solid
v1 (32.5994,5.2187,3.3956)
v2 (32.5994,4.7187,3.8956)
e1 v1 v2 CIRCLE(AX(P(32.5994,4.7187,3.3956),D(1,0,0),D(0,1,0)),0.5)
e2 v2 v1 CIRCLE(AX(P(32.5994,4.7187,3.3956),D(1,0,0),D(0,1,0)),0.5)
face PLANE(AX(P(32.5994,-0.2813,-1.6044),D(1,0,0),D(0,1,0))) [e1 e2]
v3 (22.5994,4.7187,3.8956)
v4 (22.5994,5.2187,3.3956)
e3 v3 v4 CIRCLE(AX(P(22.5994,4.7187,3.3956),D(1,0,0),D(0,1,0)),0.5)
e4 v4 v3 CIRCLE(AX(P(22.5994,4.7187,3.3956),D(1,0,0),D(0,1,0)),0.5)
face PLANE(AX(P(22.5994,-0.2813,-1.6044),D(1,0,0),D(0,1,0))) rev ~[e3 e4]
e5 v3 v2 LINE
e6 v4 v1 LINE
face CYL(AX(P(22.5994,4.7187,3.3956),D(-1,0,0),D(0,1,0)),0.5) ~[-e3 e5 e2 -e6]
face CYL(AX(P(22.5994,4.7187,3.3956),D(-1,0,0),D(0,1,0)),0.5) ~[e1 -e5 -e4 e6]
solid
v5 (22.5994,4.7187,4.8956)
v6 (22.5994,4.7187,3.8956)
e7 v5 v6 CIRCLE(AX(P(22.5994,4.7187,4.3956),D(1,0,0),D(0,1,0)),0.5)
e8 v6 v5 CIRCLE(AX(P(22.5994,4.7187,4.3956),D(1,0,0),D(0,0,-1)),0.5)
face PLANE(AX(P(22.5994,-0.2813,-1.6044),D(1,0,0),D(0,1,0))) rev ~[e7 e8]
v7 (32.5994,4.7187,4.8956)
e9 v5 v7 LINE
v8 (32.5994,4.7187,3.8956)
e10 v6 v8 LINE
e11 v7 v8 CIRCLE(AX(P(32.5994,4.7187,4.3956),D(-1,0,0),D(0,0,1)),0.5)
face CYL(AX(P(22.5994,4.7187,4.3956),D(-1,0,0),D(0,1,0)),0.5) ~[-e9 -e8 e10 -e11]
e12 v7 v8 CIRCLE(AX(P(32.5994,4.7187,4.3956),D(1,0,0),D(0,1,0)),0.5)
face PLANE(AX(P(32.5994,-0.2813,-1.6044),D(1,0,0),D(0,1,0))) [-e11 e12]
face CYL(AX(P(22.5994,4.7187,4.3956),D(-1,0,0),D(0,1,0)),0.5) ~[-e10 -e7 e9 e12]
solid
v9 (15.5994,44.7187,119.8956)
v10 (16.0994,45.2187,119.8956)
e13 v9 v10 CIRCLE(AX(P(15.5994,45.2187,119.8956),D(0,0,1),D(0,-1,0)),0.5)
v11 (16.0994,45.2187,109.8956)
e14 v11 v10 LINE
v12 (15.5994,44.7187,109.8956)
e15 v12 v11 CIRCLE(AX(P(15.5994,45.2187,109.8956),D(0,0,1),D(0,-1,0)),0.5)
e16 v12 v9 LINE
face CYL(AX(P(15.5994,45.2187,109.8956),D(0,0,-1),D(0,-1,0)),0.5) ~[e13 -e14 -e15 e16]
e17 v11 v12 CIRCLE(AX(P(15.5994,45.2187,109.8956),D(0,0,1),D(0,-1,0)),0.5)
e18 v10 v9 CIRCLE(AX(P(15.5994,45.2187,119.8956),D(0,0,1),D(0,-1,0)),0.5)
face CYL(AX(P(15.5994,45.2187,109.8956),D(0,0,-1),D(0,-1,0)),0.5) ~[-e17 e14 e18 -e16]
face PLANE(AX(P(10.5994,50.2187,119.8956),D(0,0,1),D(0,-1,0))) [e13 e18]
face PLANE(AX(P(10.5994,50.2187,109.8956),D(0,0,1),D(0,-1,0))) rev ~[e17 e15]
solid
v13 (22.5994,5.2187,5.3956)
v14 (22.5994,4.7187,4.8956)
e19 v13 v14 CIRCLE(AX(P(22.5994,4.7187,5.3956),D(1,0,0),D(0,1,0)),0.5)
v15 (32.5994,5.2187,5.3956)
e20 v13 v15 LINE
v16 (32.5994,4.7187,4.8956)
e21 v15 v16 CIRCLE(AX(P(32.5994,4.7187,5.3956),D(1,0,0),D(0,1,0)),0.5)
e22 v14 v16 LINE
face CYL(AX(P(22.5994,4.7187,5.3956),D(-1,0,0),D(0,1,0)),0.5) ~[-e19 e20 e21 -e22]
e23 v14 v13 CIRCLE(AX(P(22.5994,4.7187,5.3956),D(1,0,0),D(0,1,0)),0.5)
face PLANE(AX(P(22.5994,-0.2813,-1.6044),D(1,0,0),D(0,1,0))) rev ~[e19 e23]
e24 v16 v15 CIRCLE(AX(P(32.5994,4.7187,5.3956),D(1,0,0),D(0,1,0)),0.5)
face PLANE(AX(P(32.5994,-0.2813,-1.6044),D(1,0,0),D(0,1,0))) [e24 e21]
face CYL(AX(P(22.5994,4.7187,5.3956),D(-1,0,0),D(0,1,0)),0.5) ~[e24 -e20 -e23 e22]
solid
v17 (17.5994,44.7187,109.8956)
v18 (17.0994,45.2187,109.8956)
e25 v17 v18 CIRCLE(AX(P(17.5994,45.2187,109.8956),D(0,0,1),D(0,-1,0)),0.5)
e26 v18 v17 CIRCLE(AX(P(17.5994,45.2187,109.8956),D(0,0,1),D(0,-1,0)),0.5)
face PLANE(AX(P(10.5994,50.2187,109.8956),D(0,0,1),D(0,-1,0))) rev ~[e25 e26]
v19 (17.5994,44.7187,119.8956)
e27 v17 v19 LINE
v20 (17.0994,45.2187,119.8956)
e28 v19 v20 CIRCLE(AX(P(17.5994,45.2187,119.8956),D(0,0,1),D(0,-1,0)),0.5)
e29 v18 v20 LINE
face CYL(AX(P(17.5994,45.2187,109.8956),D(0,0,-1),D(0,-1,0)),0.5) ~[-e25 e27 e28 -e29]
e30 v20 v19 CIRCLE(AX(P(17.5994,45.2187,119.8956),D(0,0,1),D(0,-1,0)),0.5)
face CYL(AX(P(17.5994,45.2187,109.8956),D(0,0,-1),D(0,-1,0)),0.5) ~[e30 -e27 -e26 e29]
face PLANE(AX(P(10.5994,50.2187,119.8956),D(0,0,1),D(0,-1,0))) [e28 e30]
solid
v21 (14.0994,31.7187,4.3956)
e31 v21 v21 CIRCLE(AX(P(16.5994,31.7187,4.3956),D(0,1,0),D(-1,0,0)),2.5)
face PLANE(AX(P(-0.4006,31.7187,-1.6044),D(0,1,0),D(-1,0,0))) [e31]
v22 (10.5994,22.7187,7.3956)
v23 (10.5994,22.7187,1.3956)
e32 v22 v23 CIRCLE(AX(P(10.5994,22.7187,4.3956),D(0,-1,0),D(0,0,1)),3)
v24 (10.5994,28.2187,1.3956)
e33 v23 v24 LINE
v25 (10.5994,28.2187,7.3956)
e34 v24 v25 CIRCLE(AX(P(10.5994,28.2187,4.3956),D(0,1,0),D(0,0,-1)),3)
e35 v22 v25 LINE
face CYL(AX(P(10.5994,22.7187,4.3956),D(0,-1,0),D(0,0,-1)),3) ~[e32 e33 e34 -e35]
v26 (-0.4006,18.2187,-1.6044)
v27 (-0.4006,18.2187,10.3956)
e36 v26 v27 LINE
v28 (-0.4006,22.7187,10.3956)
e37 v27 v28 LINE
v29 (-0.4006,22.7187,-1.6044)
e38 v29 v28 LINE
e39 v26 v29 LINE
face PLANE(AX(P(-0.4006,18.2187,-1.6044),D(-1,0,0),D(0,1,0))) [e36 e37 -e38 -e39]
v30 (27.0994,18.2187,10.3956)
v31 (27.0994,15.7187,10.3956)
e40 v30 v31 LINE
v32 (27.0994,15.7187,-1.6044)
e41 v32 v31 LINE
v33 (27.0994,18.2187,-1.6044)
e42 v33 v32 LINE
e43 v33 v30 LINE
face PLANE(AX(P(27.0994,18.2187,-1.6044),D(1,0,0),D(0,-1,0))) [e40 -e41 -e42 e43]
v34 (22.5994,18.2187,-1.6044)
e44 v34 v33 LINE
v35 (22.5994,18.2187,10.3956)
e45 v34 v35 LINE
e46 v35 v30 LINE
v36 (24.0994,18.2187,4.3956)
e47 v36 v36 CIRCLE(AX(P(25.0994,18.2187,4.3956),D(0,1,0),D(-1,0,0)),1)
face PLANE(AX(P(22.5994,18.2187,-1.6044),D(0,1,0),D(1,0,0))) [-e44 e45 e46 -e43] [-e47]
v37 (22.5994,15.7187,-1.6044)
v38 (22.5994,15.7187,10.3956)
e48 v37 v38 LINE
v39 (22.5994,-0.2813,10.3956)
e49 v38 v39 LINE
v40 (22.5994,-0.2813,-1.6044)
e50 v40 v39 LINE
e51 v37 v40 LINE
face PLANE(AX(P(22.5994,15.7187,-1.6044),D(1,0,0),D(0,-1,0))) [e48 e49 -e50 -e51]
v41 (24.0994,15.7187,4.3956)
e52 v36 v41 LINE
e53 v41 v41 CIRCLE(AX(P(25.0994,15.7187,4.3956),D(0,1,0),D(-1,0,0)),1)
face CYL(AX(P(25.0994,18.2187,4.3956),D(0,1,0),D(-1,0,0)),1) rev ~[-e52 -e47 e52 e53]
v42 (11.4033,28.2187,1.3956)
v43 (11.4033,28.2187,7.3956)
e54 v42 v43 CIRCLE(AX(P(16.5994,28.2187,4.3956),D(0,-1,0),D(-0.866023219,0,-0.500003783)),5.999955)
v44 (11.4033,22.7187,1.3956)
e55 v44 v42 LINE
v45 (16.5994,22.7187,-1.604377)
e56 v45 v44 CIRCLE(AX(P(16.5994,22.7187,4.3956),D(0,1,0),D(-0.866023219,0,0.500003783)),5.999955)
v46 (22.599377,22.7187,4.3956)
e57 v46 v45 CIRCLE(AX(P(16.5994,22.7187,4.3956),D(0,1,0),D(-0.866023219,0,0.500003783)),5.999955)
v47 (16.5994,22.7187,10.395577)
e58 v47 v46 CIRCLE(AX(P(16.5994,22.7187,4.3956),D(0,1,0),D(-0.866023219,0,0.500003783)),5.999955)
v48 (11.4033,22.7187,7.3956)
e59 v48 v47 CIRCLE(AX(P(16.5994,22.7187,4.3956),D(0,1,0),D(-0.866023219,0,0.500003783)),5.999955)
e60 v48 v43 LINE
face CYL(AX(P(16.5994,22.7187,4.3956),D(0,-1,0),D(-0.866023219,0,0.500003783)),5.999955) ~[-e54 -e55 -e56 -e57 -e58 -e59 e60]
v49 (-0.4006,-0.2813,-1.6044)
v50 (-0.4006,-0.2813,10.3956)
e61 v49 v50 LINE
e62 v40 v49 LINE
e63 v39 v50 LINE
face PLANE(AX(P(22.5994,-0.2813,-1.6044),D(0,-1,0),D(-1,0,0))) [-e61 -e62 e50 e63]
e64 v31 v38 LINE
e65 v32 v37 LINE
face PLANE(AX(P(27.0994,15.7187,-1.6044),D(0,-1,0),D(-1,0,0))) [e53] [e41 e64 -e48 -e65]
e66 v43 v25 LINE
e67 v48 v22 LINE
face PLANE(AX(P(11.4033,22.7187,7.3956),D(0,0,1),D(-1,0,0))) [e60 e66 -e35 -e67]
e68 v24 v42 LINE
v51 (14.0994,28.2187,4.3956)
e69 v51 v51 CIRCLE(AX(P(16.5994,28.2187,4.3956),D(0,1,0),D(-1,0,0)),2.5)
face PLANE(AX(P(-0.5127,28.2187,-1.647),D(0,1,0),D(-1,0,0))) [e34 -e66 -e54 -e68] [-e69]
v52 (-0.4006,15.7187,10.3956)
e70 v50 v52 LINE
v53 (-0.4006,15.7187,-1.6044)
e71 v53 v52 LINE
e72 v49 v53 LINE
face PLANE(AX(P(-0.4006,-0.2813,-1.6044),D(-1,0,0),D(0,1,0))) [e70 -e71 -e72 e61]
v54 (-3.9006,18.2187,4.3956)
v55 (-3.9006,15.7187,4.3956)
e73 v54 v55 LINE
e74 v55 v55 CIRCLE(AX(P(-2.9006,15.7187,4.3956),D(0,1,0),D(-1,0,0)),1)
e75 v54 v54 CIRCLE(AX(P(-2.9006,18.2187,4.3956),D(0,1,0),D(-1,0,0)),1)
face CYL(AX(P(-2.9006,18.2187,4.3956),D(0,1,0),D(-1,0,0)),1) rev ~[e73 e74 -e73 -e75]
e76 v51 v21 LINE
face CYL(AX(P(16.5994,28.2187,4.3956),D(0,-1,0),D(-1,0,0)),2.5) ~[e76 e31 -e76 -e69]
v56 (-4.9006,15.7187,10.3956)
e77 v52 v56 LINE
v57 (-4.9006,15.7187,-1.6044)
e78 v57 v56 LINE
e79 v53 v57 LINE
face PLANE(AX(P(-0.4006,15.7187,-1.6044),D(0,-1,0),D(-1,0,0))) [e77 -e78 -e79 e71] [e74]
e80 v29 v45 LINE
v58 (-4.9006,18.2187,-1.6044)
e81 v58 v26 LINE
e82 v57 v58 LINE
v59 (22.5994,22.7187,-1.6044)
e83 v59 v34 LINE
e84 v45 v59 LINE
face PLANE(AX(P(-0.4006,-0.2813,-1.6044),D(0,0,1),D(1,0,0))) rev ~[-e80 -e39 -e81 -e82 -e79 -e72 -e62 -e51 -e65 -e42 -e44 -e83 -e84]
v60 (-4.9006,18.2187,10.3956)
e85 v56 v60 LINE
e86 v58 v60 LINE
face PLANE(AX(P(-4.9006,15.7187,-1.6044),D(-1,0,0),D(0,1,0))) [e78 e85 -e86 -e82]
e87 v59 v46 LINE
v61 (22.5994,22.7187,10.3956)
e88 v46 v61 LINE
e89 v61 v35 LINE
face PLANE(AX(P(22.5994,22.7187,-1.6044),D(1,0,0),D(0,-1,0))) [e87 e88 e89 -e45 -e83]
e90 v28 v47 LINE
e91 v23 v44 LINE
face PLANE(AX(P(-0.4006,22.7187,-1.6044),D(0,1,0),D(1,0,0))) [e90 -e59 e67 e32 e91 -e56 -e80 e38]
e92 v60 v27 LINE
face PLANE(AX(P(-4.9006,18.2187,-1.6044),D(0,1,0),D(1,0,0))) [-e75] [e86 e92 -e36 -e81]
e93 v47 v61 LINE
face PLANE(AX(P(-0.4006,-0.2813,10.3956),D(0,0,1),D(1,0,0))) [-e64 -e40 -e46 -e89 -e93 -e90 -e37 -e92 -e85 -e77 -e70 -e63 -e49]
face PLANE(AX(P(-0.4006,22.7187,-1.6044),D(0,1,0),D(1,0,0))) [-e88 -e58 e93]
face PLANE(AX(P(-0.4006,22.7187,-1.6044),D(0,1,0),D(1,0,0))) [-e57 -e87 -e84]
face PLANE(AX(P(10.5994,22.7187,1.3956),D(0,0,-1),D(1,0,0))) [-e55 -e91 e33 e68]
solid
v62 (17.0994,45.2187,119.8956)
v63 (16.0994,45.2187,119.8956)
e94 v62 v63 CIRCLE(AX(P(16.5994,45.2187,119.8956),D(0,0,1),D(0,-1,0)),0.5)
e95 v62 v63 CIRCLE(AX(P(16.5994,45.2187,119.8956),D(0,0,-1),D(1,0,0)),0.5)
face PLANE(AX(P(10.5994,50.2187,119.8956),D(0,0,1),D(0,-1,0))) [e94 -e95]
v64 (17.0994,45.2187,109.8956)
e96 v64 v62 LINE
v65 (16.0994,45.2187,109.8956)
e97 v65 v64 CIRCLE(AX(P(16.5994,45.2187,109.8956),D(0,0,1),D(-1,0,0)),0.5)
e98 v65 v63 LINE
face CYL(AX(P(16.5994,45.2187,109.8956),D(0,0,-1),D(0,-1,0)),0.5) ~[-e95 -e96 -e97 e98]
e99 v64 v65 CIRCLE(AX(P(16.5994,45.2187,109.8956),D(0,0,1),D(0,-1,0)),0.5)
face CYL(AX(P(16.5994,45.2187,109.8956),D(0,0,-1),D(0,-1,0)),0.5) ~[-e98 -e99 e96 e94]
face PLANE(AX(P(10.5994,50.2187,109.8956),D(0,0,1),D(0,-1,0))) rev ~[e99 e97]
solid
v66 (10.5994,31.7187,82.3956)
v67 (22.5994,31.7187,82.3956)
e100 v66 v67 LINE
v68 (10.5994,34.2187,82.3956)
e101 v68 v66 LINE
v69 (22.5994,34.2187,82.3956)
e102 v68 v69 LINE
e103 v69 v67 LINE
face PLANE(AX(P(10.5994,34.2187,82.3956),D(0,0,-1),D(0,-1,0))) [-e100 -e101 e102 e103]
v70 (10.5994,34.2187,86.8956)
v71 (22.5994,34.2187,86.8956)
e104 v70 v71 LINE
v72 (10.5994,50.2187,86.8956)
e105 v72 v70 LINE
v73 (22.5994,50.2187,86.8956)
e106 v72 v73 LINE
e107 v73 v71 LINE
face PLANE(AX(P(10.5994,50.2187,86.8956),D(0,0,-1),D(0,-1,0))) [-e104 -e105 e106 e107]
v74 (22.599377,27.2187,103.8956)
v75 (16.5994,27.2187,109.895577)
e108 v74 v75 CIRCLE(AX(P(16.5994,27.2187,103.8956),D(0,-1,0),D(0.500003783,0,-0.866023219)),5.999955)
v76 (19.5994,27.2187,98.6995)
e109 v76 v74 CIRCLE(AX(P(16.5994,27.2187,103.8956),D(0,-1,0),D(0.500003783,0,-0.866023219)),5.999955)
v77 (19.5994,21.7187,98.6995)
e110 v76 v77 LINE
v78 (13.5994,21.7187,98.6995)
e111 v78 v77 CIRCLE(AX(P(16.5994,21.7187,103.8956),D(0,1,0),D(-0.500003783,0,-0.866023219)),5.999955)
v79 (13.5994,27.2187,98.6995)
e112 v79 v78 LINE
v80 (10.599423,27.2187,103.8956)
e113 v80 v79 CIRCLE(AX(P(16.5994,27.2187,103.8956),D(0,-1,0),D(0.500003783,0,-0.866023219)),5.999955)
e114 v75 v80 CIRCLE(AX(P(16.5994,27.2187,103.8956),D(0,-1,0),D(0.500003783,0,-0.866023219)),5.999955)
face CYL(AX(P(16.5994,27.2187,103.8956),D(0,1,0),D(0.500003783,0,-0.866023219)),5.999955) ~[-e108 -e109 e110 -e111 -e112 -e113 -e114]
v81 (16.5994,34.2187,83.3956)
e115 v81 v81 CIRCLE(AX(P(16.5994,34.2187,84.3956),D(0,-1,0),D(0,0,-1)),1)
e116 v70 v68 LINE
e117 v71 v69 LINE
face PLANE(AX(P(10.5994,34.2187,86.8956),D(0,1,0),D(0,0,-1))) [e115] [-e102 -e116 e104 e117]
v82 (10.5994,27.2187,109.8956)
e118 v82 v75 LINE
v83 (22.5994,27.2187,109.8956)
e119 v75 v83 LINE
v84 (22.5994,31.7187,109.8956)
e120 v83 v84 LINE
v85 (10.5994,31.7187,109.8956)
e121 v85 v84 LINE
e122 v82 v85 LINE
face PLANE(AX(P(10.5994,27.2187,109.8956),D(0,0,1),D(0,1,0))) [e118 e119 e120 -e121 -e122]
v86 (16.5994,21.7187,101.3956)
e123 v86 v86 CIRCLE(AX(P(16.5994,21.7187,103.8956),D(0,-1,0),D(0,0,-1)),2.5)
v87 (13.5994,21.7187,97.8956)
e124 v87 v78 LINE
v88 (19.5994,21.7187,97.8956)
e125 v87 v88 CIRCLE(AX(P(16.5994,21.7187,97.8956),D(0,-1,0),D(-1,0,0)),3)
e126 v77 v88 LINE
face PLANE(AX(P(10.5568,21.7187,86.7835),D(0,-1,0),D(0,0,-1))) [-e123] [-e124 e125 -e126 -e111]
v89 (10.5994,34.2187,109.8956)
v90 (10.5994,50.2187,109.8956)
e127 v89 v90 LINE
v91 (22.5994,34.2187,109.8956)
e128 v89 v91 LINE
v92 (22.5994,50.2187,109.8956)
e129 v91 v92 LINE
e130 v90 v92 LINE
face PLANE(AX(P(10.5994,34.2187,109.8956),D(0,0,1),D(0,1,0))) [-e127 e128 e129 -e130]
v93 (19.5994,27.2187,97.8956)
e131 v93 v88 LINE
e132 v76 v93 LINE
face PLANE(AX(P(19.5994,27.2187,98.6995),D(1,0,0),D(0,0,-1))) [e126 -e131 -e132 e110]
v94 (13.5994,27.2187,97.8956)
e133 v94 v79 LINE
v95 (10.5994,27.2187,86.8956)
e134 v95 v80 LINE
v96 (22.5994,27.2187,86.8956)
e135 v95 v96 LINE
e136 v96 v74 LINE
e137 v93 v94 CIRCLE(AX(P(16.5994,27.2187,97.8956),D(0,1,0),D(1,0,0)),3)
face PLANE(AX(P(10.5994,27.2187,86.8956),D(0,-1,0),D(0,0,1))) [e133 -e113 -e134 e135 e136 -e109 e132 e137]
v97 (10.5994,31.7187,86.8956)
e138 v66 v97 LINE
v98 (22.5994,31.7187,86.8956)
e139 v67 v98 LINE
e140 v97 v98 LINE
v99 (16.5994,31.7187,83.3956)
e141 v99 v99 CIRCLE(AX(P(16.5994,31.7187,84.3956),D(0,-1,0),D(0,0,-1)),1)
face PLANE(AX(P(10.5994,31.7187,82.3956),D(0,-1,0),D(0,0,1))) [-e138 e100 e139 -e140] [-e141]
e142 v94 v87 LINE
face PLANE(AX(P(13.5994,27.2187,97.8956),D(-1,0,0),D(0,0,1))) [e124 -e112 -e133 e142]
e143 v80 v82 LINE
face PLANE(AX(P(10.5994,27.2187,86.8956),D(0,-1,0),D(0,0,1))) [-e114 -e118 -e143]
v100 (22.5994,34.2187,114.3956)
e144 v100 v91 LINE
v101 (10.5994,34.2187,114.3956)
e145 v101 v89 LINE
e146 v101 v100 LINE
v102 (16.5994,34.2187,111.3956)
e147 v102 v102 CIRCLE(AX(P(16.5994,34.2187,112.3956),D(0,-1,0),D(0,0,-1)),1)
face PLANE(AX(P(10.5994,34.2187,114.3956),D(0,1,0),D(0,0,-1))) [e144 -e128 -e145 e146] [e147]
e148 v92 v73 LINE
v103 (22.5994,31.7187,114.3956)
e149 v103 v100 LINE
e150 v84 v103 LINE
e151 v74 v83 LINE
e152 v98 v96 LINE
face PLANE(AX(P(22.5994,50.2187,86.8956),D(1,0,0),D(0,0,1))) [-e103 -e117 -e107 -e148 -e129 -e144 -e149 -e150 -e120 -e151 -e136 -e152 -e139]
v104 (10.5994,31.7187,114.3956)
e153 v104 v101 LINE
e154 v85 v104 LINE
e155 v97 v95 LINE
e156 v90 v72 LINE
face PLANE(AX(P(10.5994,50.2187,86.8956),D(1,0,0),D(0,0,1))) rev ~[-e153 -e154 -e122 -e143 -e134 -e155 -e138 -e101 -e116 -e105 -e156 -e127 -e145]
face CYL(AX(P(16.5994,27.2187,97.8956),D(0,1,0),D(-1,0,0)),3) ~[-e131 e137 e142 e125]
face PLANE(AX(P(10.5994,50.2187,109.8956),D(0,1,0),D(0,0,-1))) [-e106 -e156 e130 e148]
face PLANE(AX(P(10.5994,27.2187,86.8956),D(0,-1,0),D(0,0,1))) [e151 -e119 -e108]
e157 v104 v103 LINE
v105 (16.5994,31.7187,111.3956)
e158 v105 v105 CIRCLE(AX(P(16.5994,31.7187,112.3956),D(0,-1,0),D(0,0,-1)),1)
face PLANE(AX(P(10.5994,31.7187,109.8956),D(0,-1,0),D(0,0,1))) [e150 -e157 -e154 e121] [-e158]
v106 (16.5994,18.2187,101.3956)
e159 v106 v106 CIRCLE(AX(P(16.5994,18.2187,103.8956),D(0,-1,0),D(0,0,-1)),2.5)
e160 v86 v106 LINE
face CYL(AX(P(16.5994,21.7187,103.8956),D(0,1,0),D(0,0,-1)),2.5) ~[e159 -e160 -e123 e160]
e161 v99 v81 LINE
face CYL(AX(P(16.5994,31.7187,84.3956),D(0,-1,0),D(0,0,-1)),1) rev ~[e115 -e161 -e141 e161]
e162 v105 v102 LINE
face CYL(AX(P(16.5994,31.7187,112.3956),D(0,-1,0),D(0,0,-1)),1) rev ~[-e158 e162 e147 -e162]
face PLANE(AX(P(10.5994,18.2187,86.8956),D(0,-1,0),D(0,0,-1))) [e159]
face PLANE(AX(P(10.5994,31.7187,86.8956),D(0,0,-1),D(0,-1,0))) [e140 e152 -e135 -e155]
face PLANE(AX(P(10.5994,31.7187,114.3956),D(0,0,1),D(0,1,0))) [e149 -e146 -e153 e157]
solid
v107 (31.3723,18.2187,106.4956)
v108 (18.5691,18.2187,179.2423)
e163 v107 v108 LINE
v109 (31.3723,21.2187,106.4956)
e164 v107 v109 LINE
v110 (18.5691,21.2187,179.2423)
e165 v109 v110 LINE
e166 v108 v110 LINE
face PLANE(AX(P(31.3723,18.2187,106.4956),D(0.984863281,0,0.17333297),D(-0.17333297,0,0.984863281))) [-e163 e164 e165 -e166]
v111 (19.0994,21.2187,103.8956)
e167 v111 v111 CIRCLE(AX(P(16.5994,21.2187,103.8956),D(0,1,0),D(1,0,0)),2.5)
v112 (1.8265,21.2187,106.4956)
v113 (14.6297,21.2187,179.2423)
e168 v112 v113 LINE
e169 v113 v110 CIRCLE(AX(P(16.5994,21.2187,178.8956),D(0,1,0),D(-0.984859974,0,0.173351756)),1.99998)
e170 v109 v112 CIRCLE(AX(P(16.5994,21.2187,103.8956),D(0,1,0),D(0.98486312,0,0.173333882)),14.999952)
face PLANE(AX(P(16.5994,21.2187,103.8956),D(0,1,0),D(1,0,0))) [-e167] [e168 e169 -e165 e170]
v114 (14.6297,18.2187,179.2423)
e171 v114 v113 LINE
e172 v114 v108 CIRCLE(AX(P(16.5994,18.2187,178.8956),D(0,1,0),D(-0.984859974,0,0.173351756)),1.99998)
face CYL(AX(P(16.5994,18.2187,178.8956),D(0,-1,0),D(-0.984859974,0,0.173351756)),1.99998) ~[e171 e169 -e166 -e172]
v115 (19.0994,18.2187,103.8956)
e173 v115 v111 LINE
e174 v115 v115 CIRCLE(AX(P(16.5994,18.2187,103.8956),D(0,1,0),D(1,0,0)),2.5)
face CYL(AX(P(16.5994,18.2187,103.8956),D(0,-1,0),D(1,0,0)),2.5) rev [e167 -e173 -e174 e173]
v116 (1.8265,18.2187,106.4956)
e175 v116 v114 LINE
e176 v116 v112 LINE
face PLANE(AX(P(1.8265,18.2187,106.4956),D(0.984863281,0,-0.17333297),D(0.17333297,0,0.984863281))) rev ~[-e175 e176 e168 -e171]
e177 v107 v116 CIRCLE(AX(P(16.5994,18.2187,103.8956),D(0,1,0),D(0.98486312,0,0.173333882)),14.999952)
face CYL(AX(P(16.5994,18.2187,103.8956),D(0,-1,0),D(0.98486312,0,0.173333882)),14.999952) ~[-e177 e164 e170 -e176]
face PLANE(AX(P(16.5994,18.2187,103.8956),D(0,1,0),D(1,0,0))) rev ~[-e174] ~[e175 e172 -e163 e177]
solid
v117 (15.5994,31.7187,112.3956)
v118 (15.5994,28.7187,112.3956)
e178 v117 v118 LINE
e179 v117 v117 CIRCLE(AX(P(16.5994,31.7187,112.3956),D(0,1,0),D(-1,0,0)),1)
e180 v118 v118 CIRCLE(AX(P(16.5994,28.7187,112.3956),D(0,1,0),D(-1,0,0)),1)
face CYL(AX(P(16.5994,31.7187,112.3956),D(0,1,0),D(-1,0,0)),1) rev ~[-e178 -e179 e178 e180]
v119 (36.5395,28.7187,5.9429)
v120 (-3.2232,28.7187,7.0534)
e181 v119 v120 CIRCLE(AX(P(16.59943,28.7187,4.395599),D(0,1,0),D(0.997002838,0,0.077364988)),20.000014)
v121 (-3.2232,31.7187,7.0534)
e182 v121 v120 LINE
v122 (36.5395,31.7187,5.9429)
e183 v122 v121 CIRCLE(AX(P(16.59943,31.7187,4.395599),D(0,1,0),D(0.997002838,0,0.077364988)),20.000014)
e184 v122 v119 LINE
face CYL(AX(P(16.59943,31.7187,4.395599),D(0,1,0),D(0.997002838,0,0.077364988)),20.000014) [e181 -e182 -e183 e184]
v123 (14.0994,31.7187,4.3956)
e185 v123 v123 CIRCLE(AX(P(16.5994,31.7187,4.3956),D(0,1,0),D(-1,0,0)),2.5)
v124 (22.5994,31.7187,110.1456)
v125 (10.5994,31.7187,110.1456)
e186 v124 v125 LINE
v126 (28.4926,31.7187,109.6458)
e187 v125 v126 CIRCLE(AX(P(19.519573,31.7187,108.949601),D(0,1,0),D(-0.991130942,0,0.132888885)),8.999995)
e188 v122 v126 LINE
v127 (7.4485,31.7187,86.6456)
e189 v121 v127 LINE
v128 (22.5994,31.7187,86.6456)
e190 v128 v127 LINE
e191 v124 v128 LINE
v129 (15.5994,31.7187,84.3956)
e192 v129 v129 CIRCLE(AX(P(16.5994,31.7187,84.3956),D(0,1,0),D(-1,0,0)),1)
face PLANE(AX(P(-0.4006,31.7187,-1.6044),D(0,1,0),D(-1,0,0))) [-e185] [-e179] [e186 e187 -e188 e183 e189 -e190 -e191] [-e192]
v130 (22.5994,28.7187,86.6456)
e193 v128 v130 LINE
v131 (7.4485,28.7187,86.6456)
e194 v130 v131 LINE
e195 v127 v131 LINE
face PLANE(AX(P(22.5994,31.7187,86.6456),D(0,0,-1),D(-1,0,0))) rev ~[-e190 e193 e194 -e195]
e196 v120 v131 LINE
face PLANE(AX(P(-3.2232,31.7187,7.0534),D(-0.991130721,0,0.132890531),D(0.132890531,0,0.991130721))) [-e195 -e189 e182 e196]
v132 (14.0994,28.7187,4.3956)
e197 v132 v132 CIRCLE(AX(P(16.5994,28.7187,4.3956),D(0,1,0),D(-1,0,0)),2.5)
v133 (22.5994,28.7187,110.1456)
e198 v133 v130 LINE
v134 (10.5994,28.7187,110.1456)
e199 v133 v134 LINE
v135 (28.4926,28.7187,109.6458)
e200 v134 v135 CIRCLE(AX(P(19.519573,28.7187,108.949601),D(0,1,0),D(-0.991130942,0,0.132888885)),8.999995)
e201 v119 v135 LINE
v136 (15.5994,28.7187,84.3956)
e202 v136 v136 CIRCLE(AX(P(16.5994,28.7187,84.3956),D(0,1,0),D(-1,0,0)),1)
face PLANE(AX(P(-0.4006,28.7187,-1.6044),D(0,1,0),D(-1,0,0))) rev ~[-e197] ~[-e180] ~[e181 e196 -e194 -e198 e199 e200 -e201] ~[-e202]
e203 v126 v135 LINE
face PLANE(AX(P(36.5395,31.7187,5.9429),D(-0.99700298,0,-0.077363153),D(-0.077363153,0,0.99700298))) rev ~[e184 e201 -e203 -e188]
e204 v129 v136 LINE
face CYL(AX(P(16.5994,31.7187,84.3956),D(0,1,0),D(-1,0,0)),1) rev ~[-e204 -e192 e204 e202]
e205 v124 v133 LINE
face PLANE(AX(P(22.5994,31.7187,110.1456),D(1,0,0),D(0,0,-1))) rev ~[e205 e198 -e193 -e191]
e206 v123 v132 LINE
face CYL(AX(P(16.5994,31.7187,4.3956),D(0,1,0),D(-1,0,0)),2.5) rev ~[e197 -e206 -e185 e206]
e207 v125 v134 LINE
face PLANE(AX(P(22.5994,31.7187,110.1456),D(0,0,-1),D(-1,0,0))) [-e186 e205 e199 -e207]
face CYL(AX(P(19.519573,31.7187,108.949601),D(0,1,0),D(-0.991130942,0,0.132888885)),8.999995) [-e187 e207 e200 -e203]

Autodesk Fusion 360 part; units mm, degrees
sketch "Sketch1" plane through (0, 0, 0) normal (0, 0, 1) x (1, 0, 0) in component "Servo"
  line L0 (0, 0) -> (0, 16)
  line L1 (0, 16) -> (-4.5, 16)
  line L2 (-4.5, 16) -> (-4.5, 18.5)
  line L3 (-4.5, 18.5) -> (0, 18.5)
  line L4 (0, 18.5) -> (0, 23)
  line L5 (0, 23) -> (23, 23)
  line L6 (23, 23) -> (23, 18.5)
  line L7 (23, 18.5) -> (27.5, 18.5)
  line L8 (27.5, 18.5) -> (27.5, 16)
  line L9 (27.5, 16) -> (23, 16)
  line L10 (23, 16) -> (23, 0)
  line L11 (23, 0) -> (0, 0)
  dimension "d1" = 23
  dimension "d2" = 23
  dimension "d3" = 32
  dimension "d4" = 2.5
  dimension "d5" = 16
extrude "Extrude1" add sketch "Sketch1" along normal blind 12 makes body 1 in component "Servo"
sketch "Sketch2" plane through (-0.1121, 23, -0.0426) normal (0, 1, 0) x (-1, 0, 0) in component "Servo"
  line L0 (-23.1121, 0.0426) -> (-0.1121, 0.0426)
  line L1 (-0.1121, 0.0426) -> (-0.1121, 12.0426)
  line L2 (-0.1121, 12.0426) -> (-23.1121, 12.0426)
  line L3 (-23.1121, 12.0426) -> (-23.1121, 0.0426)
  line L4 (-23.1121, 6.0426) -> (-0.1121, 6.0426)
  arc A0 (-11.916, 9.0426) -> (-11.916, 3.0426) centre (-17.1121, 6.0426) ccw
  arc A1 (-11.916, 3.0426) -> (-11.916, 9.0426) centre (-17.1121, 6.0426) ccw construction
  arc A2 (-11.1121, 3.0426) -> (-11.1121, 9.0426) centre (-11.1121, 6.0426) ccw
  line L5 (-11.916, 9.0426) -> (-11.1121, 9.0426)
  line L6 (-11.1121, 3.0426) -> (-11.916, 3.0426)
  dimension "d8" = 6
  dimension "d9" = 3
extrude "Extrude2" add sketch "Sketch2" along normal blind 5.5 contours L4 A0 A2 L6 | L4 A0 A2 L5 bodies 1 in component "Servo"
sketch "Sketch3" plane through (0, 28.5, 0) normal (0, 1, 0) x (-1, 0, 0) in component "Servo"
  arc A0 (-11.8038, 9) -> (-11.8038, 3) centre (-17, 6) ccw
  line L0 (-11.8038, 3) -> (-11, 3)
  arc A1 (-11, 3) -> (-11, 9) centre (-11, 6) ccw
  line L1 (-11, 9) -> (-11.8038, 9)
  circle A2 centre (-17, 6) radius 2.5
  dimension "d12" = 5
extrude "Extrude3" add sketch "Sketch3" along normal blind 3.5 contours A2 bodies 1 in component "Servo"
sketch "Sketch4" plane through (23, 0, 0) normal (1, 0, 0) x (0, 1, 0) in component "Servo"
  line L0 (0, 0) -> (16, 0)
  line L1 (16, 0) -> (16, 12)
  line L2 (16, 12) -> (0, 12)
  line L3 (0, 12) -> (0, 0)
  line L4 (5, 12) -> (5, 0) construction
  circle A0 centre (5, 6) radius 0.5
  circle A1 centre (5, 7) radius 0.5
  circle A2 centre (5, 5) radius 0.5
  dimension "d15" = 5
  dimension "d16" = 1
extrude "Extrude4" add sketch "Sketch4" along normal blind 10 separate body contours A0 | A2 | A1 makes body 2 at (26.3333, 5.3749, 5.6692) in component "Servo"
sketch "Sketch5" plane through (0, 18.5, 0) normal (0, 1, 0) x (-1, 0, 0) in component "Servo"
  line L0 (-27.5, 0) -> (-23, 0)
  line L1 (-23, 0) -> (-23, 12)
  line L2 (-23, 12) -> (-27.5, 12)
  line L3 (-27.5, 12) -> (-27.5, 0)
  line L4 (-23, 12) -> (0, 12) construction
  line L5 (-11.5, 12) -> (-11.5, 0) construction
  line L6 (0, 0) -> (0, 12)
  line L7 (0, 0) -> (-17, 0)
  line L8 (-25.5, 6) -> (2.5, 6) construction
  circle A0 centre (2.5, 6) radius 1
  circle A1 centre (-25.5, 6) radius 1
  dimension "d19" = 28
  dimension "d20" = 2
extrude "Extrude5" cut sketch "Sketch5" against normal up to surface (2.5 mm away) contours A0 | A1 bodies 1 in component "Servo"
sketch "Sketch1 (2)" plane through (0, 32, 0) normal (0, 1, 0) x (-1, 0, 0) in component "ArmA"
  circle A0 centre (-17, 6) radius 2.5
  arc A1 (-36.9401, 7.5473) -> (2.8226, 8.6578) centre (-17, 6) ccw
  line L0 (-17, 86) -> (-17, 114) construction
  circle A2 centre (-17, 114) radius 1
  circle A3 centre (-17, 86) radius 1
  line L1 (-17, 100) -> (-23, 100) construction
  line L2 (-23, 111.75) -> (-23, 88.25)
  line L3 (-23, 111.75) -> (-11, 111.75)
  line L4 (-23, 88.25) -> (-7.8491, 88.25)
  line L5 (2.8226, 8.6578) -> (-7.8491, 88.25)
  circle A4 centre (-17, 6) radius 2.5
  line L6 (-36.9401, 7.5473) -> (-28.8932, 111.2502)
  line L7 (-7.8491, 88.25) -> (-11, 111.75) construction
  circle A5 centre (-17, 106) radius 2.5 construction
  arc A6 (-11, 111.75) -> (-28.8932, 111.2502) centre (-19.9202, 110.554) ccw
  circle A7 centre (-17, 6) radius 2.5
  dimension "d38" = 20
  dimension "d39" = 2
  dimension "d40" = 6
  dimension "d41" = 5
  dimension "d43" = 12
  dimension "d44" = 23.5
  dimension "d45" = 5
  dimension "d46" = 8
  dimension "d47" = 28
  dimension "d48" = 100
  dimension "d49" = 9
extrude "Extrude1'" add sketch "Sketch1 (2)" against normal blind 3 separate body makes body 3 in component "ArmA"
sketch "Sketch1 (3)" plane through (0, 0, 0) normal (0, 1, 0) x (1, 0, 0) in component "ArmB"
  arc A0 (14.7729, -2.6) -> (-14.7729, -2.6) centre (0, 0) ccw
  circle A1 centre (0, 0) radius 2.5
  line L0 (-14.7729, -2.6) -> (-1.9697, -75.3467)
  line L1 (14.7729, -2.6) -> (1.9697, -75.3467)
  arc A2 (-1.9697, -75.3467) -> (1.9697, -75.3467) centre (0, -75) ccw
  dimension "d60" = 15
  dimension "d61" = 5
  dimension "d62" = 2
  dimension "d63" = 75
extrude "Extrude1''" add sketch "Sketch1 (3)" along normal blind 3 separate body makes body 4 in component "ArmB"
component "Servo" placed x (1, 0, 0) y (0, 1, 0) z (0, 0, 1) at (-0.4006, -0.2813, -1.6044)
component "ArmA" placed x (1, 0, 0) y (0, 1, 0) z (0, 0, 1) at (-0.4006, -0.2813, -1.6044)
component "Servo" placed x (0, 0, 1) y (0, -1, 0) z (1, 0, 0) at (10.5994, 50.2187, 86.8956)
component "ArmB" placed x (1, 0, 0) y (0, 1, 0) z (0, 0, 1) at (16.5994, 18.2187, 103.8956)
